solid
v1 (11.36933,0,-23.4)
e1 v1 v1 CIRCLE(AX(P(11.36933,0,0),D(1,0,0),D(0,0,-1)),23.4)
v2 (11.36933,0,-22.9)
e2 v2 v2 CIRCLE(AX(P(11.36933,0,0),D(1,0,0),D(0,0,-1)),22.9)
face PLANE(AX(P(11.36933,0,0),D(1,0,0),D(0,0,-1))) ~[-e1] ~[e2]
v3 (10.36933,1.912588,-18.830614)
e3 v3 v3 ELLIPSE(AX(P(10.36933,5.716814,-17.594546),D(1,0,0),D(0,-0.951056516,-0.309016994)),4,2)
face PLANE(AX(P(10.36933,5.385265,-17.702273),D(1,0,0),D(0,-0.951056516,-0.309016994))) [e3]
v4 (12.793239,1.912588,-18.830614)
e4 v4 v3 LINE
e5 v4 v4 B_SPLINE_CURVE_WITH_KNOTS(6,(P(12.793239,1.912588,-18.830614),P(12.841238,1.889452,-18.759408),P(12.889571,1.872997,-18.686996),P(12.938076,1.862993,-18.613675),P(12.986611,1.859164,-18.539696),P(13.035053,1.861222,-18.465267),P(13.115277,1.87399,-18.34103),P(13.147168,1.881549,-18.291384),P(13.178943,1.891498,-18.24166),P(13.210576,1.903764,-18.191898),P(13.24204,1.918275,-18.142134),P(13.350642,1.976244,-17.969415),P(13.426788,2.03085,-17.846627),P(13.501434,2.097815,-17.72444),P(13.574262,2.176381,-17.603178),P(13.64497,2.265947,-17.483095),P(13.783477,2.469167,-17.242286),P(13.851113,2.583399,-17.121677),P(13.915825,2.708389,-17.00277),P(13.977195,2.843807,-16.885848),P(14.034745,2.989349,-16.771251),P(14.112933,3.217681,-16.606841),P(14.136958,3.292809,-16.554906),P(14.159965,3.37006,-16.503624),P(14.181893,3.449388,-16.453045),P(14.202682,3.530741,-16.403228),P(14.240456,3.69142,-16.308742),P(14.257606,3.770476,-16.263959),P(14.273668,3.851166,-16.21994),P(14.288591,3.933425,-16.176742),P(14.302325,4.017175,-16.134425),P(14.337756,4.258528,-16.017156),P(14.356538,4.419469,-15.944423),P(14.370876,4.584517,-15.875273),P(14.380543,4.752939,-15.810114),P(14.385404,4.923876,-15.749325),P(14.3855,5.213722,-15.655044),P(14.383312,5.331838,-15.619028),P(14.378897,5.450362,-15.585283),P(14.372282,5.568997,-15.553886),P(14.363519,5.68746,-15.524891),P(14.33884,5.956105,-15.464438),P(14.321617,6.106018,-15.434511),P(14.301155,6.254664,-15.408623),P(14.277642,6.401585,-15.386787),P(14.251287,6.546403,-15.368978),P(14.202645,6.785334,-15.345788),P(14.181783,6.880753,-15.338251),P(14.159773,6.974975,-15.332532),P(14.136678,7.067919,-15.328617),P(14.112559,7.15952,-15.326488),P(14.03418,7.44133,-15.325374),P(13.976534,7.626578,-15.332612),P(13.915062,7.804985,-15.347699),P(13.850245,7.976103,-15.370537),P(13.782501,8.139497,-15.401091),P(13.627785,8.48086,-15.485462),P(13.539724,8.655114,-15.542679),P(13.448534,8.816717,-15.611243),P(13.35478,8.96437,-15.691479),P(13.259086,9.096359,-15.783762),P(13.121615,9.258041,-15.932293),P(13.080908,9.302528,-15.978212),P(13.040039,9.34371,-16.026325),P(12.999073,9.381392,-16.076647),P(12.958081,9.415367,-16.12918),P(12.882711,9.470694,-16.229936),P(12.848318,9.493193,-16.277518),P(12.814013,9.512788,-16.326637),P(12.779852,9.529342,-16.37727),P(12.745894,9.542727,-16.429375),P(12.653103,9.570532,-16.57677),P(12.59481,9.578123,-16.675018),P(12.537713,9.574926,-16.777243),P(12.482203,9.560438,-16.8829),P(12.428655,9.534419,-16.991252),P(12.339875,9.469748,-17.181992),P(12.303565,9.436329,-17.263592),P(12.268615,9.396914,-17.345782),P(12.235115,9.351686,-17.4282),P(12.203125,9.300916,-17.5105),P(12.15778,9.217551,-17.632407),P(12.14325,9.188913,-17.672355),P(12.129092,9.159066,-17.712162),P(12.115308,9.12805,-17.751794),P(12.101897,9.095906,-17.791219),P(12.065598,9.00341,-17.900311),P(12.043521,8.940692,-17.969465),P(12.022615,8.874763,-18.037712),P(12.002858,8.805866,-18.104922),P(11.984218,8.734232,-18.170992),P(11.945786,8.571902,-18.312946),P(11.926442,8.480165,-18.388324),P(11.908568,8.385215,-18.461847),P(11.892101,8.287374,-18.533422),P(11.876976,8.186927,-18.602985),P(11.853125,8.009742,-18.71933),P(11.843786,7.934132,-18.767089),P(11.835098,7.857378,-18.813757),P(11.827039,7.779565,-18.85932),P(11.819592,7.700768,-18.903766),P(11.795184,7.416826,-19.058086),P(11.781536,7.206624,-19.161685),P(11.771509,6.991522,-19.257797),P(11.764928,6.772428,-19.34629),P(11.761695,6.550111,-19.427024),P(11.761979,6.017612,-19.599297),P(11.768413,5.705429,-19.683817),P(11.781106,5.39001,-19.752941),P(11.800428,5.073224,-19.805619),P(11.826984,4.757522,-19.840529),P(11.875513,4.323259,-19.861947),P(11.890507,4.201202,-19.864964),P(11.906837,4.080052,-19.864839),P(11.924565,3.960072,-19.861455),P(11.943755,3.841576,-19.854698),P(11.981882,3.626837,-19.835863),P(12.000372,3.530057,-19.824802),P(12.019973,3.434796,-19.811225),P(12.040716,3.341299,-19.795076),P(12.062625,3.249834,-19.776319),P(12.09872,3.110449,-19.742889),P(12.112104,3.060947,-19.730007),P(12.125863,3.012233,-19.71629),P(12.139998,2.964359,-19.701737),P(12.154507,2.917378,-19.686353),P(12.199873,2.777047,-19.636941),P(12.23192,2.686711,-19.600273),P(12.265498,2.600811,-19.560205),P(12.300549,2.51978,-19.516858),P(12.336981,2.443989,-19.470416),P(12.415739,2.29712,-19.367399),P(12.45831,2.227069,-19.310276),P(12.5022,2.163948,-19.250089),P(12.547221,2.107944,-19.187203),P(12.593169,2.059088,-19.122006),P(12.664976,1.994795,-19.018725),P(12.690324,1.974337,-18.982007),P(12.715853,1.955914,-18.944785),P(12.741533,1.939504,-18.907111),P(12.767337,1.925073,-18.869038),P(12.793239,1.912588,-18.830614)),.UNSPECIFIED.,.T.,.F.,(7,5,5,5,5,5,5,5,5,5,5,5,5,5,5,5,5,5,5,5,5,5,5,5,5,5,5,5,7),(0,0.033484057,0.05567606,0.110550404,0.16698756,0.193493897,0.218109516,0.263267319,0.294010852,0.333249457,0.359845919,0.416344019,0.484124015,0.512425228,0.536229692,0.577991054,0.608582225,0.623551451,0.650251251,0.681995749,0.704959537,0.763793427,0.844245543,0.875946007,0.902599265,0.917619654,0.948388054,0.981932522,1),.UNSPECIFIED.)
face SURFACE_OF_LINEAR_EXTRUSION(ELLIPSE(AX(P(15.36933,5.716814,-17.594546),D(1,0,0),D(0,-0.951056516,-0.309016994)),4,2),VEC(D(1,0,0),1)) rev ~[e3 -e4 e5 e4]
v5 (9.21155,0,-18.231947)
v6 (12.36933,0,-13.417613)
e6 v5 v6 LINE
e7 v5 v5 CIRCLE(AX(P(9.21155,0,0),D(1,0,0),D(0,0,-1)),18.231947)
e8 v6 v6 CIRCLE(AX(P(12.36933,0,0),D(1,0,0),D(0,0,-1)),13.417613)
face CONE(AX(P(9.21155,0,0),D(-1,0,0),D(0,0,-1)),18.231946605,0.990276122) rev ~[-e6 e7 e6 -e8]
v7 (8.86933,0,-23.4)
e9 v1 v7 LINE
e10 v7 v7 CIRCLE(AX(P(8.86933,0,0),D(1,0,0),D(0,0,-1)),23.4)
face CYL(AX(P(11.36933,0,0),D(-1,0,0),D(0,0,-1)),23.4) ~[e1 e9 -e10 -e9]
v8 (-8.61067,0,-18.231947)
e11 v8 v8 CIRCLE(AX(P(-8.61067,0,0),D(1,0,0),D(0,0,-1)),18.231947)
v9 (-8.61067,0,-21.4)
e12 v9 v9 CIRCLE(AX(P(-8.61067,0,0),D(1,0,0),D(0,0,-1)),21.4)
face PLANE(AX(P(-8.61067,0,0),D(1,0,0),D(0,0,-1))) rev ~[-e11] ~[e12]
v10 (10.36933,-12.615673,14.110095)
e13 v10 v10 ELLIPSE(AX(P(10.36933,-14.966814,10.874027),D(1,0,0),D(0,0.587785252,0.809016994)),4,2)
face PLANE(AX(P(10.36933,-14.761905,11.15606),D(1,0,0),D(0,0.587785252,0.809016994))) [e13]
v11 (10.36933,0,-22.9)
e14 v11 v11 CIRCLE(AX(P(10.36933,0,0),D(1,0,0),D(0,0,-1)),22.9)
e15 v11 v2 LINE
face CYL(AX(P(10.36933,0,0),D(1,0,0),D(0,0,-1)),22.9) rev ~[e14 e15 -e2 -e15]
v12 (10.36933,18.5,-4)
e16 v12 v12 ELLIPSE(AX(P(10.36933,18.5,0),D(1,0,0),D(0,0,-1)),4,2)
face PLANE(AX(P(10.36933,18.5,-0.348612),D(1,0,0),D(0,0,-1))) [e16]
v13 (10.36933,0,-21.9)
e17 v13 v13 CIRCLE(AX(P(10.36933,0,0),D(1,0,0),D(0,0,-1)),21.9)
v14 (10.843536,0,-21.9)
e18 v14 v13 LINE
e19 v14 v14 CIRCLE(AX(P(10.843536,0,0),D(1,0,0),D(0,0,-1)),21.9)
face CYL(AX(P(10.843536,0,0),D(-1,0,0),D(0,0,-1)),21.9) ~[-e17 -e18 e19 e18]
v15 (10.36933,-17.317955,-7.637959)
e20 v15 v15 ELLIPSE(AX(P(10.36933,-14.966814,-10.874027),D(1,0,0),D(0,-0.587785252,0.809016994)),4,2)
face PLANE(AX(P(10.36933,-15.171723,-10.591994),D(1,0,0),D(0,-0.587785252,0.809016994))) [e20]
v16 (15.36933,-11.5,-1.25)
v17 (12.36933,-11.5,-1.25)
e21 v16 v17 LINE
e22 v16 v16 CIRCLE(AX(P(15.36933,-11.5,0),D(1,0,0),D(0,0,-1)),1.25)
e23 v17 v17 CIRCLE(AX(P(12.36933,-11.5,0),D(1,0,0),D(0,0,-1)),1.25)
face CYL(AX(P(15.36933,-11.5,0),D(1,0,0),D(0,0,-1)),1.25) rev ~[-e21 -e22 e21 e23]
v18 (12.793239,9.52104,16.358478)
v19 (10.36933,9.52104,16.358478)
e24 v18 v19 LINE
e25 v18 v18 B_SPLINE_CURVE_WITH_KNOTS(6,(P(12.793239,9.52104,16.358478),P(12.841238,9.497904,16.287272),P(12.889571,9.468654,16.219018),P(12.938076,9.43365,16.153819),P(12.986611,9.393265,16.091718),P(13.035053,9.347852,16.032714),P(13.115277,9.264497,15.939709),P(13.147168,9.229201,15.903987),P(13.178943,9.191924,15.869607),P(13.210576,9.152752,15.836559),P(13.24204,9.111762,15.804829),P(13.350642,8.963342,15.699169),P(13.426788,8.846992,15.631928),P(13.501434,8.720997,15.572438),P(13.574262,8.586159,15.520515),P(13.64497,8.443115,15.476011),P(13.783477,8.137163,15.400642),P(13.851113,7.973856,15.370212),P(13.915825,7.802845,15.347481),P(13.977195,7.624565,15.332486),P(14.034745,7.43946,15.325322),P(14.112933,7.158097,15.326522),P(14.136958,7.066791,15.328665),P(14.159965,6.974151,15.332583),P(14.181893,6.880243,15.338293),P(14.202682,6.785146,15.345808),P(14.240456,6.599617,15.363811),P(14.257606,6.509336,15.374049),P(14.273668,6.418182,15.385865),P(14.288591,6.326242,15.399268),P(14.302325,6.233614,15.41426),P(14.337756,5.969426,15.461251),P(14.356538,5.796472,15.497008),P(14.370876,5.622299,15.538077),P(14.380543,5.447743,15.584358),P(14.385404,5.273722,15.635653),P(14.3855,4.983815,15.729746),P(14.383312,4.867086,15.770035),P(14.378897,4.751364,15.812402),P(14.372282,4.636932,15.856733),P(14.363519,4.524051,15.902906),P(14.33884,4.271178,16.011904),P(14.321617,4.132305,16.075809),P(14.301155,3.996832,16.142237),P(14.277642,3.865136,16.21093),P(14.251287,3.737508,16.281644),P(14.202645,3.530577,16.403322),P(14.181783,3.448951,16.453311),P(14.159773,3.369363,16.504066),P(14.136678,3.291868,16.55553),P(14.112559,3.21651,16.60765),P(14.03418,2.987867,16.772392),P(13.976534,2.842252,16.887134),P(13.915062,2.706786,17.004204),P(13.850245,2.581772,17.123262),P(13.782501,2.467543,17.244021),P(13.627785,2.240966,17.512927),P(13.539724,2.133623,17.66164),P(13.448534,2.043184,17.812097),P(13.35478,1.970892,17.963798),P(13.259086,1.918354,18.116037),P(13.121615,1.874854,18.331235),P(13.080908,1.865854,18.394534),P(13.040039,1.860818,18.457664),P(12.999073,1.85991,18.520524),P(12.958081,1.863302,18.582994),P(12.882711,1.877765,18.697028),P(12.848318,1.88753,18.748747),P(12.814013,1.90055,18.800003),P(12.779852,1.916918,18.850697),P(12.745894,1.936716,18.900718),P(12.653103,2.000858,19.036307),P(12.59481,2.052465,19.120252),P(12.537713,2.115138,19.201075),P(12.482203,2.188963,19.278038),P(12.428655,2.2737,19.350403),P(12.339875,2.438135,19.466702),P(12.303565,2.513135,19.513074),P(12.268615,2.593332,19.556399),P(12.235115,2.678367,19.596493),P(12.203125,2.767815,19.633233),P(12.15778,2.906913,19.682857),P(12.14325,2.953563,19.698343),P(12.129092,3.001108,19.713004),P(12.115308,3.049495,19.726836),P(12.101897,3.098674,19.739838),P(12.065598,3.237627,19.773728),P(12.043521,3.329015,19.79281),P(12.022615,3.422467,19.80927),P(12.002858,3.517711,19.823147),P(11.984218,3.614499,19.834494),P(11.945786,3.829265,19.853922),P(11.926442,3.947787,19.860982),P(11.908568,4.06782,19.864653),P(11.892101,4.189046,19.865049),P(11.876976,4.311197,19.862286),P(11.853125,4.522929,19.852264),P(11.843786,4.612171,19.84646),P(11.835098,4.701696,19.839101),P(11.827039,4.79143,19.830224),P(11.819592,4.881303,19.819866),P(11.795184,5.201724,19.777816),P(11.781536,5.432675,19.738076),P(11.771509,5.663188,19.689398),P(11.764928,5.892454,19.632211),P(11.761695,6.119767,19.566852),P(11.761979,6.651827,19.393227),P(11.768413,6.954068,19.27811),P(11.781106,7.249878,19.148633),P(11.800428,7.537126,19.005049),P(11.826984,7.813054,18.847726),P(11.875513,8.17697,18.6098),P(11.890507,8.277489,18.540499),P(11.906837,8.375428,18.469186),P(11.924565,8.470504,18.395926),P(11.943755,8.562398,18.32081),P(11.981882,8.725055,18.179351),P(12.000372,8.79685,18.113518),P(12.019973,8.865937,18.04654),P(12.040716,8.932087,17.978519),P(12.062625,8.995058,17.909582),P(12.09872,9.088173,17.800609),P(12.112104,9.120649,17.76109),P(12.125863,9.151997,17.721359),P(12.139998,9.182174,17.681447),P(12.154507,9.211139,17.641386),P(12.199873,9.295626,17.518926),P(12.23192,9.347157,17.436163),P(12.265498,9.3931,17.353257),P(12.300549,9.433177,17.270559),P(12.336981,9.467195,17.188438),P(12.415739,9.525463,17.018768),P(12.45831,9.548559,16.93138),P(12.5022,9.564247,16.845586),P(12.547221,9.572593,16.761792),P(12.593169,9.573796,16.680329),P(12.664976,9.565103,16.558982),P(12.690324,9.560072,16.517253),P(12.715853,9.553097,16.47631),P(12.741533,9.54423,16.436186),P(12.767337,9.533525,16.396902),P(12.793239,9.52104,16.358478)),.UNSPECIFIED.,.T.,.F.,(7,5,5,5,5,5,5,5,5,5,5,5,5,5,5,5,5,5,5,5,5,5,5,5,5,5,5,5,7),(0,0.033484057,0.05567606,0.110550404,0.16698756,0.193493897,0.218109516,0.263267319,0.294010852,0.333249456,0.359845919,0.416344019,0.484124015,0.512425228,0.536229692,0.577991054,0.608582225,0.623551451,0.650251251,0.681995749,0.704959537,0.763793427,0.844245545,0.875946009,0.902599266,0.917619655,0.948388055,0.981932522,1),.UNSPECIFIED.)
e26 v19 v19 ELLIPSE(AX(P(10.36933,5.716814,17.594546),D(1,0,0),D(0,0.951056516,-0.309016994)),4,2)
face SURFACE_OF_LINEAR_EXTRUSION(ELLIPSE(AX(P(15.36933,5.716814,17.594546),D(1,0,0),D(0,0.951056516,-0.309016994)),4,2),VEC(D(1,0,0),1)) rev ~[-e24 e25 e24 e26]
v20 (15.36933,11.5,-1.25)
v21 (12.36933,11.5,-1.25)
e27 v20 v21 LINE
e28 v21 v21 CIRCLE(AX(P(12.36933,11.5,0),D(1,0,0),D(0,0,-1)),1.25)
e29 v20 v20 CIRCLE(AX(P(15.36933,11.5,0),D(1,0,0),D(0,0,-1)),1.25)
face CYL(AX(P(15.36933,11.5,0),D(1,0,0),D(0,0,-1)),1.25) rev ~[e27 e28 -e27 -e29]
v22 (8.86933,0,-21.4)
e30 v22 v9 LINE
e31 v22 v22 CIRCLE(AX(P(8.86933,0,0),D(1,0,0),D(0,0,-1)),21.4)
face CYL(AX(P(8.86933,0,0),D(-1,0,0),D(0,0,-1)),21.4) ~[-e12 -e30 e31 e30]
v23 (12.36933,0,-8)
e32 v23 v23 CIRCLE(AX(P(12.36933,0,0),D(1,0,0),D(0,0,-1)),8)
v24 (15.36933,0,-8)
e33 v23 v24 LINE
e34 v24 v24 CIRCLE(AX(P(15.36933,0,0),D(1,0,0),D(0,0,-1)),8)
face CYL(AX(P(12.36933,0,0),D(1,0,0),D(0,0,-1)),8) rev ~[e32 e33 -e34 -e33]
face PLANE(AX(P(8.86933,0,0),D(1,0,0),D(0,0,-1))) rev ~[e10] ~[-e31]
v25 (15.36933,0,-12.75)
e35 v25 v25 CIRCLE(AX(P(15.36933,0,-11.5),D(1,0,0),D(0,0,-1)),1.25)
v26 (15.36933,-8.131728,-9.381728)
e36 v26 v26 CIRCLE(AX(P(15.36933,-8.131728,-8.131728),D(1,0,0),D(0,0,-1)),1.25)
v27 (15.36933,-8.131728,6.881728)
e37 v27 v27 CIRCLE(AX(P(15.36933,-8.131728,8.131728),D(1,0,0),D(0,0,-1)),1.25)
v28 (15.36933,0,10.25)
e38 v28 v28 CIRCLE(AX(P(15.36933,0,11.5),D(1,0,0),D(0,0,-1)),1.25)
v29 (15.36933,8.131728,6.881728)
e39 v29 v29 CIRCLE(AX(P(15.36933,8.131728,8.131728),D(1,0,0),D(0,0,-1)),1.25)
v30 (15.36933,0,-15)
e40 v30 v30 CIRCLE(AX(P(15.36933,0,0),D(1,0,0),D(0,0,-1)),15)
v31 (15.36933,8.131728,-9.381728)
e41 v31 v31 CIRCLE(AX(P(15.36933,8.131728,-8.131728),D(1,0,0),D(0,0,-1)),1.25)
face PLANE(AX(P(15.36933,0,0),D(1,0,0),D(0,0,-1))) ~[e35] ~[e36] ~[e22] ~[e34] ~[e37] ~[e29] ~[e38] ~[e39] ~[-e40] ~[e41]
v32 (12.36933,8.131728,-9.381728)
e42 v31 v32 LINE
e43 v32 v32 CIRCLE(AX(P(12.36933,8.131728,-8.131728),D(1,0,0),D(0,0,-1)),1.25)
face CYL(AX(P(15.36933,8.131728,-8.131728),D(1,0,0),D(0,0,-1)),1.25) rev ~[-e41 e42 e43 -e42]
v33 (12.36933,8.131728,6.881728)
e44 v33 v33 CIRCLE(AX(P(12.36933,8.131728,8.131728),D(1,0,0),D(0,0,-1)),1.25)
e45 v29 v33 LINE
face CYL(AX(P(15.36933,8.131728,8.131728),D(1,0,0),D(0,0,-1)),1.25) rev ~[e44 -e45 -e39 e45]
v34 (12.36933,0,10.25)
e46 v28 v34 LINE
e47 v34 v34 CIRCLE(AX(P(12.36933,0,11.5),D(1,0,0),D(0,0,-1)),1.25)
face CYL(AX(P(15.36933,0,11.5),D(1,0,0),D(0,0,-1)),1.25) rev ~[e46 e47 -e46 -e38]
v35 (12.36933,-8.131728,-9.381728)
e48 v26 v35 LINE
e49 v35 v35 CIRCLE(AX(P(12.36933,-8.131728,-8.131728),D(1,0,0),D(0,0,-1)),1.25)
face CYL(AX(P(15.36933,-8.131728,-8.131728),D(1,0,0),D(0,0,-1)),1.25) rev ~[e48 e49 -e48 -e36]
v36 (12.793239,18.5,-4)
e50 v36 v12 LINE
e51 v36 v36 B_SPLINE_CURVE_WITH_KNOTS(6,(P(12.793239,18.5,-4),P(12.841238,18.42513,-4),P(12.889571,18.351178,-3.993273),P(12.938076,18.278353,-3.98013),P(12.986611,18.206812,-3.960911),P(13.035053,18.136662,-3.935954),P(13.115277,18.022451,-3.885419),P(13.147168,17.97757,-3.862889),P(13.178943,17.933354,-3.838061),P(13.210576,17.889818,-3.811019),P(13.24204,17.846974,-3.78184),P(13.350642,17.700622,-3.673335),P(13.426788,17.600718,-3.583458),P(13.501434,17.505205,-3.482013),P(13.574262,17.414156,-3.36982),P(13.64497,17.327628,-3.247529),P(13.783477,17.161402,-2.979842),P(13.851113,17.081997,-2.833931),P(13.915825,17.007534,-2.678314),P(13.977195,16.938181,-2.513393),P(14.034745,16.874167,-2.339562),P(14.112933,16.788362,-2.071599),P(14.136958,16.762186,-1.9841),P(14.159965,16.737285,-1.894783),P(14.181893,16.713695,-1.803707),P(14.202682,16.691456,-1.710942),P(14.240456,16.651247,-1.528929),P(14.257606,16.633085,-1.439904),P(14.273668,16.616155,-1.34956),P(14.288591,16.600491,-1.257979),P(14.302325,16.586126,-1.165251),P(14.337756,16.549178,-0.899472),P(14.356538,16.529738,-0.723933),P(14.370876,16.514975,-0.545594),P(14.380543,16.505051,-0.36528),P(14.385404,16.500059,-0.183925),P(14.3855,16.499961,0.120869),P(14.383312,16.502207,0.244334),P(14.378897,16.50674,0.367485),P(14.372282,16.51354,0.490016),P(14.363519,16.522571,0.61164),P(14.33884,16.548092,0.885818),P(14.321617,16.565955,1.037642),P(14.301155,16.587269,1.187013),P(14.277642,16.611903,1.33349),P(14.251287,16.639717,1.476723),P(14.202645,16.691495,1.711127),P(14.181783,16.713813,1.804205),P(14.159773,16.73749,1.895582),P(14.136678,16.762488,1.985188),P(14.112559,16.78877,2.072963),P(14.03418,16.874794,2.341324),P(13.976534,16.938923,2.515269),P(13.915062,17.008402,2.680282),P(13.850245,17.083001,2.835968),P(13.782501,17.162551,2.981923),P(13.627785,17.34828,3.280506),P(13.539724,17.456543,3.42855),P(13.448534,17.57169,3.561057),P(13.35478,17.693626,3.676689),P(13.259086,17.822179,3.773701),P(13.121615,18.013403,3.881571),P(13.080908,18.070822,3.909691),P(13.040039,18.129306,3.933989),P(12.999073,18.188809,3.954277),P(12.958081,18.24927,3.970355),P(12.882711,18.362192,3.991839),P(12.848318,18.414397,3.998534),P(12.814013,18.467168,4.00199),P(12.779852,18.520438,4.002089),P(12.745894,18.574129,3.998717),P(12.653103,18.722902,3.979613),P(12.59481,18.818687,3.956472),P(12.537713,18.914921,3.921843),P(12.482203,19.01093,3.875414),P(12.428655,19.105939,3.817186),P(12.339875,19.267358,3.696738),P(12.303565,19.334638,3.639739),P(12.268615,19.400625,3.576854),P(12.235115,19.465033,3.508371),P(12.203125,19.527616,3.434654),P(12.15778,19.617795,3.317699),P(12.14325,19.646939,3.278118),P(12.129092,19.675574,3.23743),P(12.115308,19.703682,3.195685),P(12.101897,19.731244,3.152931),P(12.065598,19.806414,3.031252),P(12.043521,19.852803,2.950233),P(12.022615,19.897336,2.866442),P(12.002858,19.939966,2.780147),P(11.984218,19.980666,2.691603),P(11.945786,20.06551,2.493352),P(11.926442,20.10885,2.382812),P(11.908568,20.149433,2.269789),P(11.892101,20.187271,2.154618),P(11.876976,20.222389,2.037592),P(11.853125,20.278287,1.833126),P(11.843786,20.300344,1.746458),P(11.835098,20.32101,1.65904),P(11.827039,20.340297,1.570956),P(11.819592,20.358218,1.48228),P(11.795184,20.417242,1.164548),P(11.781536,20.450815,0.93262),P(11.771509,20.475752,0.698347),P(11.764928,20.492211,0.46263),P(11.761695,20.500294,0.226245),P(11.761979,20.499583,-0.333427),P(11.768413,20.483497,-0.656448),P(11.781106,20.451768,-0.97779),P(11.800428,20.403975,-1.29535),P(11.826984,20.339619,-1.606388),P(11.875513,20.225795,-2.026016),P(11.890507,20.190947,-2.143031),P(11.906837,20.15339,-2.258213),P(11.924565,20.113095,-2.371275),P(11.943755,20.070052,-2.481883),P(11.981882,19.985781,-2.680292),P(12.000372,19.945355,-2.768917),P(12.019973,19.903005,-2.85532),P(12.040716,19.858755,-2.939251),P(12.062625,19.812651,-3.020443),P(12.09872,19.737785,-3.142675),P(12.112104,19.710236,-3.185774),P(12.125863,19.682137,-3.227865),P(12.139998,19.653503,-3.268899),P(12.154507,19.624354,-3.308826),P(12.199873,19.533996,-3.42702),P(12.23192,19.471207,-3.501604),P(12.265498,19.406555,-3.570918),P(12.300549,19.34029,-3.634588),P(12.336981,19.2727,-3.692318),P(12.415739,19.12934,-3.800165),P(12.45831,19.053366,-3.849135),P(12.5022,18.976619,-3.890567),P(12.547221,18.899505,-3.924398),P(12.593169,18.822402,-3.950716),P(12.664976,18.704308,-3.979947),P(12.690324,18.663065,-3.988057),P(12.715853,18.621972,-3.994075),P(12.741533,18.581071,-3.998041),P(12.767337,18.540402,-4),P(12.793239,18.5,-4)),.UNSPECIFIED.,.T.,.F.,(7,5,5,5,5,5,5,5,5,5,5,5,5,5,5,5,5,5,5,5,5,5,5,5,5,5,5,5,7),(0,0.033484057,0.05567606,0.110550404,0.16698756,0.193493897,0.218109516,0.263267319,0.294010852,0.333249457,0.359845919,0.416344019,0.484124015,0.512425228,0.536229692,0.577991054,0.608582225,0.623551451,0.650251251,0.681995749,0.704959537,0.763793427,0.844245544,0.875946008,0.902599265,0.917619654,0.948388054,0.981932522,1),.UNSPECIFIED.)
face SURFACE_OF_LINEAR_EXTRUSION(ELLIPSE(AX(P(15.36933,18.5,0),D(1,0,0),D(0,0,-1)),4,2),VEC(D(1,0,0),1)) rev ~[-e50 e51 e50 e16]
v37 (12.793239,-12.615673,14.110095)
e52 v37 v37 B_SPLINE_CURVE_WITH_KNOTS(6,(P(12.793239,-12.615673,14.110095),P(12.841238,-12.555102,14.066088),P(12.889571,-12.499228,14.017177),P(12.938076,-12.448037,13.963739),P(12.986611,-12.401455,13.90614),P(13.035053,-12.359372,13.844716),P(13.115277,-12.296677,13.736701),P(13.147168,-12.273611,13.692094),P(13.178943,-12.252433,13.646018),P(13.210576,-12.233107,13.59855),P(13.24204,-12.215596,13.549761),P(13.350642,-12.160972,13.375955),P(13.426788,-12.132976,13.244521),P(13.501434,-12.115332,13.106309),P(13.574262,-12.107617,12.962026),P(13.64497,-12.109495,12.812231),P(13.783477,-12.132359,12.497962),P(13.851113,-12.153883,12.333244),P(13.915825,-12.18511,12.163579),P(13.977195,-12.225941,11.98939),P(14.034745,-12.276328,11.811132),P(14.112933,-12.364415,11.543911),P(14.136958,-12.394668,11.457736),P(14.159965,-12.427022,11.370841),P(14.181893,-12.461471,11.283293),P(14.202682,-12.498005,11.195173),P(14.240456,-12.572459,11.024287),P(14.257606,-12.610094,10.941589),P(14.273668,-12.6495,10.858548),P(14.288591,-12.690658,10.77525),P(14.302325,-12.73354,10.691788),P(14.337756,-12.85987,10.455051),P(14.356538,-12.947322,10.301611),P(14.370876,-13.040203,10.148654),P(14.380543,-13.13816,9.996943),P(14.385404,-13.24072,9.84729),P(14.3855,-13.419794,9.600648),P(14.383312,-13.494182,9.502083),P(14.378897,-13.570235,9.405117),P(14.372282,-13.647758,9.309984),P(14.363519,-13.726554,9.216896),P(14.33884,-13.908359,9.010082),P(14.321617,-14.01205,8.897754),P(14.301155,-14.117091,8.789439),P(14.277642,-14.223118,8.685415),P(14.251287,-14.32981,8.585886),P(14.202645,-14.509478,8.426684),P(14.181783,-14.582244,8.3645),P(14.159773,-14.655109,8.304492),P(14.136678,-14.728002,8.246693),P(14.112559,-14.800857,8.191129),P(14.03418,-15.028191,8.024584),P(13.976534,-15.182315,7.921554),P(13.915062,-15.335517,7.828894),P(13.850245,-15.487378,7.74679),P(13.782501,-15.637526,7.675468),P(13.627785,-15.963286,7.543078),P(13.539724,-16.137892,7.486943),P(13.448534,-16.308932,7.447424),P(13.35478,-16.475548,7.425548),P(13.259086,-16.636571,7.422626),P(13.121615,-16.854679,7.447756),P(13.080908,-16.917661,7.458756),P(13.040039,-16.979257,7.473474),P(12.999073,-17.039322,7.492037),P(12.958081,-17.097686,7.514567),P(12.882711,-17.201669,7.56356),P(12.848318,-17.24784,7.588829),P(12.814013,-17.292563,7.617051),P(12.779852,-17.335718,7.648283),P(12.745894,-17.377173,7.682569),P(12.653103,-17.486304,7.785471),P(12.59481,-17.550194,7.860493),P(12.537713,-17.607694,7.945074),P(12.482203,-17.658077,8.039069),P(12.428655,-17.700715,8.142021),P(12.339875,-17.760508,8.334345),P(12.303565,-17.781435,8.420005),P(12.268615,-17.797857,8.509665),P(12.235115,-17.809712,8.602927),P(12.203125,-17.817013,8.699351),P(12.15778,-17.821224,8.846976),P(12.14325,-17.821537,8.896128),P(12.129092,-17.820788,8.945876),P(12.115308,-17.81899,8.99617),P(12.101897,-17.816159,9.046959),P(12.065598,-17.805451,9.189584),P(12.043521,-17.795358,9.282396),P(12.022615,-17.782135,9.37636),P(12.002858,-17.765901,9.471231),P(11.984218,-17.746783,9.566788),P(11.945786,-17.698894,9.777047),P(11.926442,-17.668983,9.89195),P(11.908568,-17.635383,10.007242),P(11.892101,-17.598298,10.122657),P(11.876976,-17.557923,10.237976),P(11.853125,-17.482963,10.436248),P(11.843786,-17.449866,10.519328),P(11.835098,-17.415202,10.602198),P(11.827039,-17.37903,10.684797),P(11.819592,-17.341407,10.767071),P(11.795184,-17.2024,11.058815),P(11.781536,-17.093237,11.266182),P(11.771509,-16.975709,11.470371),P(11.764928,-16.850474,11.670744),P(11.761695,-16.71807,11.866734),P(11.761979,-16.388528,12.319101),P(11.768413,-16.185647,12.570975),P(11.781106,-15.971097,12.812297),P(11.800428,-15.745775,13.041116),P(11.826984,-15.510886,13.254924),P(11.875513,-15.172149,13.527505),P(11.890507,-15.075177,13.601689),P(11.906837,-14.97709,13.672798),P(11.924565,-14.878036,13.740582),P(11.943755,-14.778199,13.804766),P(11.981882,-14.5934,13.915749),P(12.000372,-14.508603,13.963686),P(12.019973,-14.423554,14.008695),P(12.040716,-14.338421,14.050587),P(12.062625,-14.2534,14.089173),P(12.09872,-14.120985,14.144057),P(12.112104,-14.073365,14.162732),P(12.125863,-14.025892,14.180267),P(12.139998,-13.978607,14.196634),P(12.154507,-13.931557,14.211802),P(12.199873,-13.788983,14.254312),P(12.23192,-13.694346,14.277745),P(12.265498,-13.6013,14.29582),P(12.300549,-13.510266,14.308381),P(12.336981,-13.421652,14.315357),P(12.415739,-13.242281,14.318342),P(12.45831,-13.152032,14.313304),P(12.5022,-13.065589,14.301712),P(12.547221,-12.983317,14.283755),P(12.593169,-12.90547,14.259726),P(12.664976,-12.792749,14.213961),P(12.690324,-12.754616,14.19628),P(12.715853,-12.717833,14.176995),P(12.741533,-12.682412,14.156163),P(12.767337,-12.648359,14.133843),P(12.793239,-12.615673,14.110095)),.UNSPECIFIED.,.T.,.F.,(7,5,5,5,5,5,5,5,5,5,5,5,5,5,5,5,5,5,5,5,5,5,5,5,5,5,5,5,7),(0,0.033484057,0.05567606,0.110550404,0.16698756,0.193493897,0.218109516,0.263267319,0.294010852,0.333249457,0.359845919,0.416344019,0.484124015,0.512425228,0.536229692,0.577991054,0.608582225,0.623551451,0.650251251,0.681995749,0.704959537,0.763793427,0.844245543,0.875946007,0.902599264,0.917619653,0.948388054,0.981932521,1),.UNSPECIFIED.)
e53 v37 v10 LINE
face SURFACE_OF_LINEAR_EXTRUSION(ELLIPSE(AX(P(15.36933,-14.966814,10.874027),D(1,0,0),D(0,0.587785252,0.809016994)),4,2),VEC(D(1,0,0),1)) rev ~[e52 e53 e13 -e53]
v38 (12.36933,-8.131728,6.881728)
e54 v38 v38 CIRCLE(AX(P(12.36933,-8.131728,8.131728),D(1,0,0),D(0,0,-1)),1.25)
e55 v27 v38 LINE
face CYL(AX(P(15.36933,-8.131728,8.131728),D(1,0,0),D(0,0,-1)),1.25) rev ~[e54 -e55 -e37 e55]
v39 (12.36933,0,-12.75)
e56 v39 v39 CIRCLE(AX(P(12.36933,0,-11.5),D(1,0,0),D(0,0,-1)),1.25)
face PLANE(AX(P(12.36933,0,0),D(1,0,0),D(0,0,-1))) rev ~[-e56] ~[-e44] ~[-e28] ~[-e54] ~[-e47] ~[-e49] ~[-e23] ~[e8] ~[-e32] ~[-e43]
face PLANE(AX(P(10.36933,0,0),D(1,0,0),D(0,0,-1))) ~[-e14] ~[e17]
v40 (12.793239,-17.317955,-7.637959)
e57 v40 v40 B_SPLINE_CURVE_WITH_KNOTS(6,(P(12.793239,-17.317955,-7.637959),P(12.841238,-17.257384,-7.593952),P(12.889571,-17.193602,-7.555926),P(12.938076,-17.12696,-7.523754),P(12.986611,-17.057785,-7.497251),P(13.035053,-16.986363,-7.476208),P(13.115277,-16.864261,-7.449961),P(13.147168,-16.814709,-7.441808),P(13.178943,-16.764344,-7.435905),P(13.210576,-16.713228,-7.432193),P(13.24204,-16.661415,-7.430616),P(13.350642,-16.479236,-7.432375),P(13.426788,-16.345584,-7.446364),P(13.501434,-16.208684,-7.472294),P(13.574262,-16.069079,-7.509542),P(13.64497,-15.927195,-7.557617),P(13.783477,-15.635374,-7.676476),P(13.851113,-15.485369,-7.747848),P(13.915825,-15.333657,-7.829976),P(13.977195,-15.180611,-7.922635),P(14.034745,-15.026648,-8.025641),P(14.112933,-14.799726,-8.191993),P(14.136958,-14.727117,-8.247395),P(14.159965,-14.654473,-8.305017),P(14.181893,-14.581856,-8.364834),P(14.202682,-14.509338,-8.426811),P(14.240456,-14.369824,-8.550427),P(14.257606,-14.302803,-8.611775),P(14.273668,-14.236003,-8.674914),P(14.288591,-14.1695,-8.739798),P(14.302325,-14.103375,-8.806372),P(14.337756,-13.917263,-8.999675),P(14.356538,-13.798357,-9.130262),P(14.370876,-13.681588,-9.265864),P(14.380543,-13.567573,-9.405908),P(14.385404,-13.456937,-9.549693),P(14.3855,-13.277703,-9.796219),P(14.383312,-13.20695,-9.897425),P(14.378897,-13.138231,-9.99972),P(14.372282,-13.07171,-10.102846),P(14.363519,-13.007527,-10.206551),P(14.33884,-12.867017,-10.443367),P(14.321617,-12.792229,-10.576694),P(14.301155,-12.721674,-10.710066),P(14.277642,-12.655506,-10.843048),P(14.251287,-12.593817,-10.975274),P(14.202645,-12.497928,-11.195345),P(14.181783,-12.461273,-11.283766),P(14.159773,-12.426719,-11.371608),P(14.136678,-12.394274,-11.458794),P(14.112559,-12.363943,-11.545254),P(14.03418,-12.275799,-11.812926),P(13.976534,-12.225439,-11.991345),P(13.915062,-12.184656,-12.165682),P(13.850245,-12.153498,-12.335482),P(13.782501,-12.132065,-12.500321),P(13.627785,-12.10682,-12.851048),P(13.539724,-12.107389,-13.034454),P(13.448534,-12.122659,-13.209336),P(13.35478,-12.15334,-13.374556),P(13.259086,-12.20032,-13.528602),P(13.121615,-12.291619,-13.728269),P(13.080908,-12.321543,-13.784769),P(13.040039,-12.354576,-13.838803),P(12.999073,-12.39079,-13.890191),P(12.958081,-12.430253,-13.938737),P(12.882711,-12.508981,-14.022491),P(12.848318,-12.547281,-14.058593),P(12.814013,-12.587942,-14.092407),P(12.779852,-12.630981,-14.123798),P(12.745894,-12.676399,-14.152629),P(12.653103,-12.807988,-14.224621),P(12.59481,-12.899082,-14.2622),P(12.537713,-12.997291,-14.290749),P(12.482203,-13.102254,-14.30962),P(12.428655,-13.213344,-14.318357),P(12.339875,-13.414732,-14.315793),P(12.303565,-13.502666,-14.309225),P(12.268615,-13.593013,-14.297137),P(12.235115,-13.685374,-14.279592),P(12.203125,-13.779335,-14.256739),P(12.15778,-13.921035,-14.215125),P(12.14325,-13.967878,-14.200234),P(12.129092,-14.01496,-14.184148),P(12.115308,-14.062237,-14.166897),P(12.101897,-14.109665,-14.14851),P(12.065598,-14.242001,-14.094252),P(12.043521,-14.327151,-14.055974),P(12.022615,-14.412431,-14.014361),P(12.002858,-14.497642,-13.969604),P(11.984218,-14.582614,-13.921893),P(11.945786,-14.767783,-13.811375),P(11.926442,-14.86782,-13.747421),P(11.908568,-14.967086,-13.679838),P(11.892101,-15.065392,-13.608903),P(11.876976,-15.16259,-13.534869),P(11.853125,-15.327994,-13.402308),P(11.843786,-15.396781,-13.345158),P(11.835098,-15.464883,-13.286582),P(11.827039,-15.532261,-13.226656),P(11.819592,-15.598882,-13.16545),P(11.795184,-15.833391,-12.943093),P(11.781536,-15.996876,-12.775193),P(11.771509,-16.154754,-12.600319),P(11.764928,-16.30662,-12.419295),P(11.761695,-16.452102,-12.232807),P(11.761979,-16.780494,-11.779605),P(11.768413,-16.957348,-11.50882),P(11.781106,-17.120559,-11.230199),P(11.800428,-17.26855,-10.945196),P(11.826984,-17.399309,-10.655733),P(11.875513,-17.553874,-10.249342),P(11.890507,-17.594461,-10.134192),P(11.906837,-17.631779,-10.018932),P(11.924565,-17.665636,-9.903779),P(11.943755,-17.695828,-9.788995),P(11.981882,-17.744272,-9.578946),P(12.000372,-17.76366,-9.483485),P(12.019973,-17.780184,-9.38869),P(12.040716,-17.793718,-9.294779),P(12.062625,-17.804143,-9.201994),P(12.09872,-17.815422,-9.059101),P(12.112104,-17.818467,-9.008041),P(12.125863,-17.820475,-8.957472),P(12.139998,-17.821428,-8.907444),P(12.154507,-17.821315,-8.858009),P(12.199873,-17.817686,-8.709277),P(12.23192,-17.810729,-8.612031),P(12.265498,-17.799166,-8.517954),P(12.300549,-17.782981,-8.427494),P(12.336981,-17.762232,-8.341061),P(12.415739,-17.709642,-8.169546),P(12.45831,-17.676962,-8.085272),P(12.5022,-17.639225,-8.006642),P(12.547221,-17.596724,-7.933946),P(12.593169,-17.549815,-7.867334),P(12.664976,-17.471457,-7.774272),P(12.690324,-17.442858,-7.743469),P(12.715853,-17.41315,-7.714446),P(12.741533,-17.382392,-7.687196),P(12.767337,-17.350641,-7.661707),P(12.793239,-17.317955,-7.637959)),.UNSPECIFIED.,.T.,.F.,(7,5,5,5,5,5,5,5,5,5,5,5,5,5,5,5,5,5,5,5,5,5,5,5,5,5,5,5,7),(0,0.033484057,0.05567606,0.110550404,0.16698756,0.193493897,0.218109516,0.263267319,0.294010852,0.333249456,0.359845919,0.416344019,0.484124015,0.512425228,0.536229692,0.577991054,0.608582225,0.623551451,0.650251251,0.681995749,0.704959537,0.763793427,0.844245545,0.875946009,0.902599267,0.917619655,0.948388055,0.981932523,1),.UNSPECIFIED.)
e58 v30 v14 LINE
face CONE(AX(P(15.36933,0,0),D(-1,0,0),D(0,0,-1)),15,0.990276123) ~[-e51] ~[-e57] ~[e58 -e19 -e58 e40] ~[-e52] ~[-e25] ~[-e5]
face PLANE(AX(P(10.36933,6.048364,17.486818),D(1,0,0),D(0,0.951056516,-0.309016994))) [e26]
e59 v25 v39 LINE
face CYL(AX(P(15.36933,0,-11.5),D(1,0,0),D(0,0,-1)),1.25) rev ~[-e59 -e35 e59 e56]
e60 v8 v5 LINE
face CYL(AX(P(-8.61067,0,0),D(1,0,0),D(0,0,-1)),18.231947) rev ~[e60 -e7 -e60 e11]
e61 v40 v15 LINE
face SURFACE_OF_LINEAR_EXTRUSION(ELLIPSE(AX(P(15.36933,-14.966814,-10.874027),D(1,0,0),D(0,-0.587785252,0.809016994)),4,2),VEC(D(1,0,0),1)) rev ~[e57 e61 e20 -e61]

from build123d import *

# Parameters (mm, degrees)
SKETCH4_R          = 1.25
SKETCH4_RX         = 4
SKETCH4_RY         = 2
CUT_EXTRUDE1_DEPTH = 5


with BuildPart() as part:
    # Sketch3 → Revolve1 (revolve)
    with BuildSketch(Plane(origin=(0, 0, 0), x_dir=(1, 0, 0), z_dir=(0, 1, 0))):
        Polygon((10.36932978, 23.4), (8.86932978, 23.4), (8.86932978, 21.4), (-8.61067022, 21.4), (-8.61067022, 18.231946605), (9.211549898, 18.231946605), (12.36932978, 13.417613419), (12.36932978, 8), (15.36932978, 8), (15.36932978, 15), (10.843535586, 21.9), (10.36932978, 21.9), (10.36932978, 22.9), (11.36932978, 22.9), (11.36932978, 23.4), align=None)
    revolve(axis=Axis((-29.774212385, 0, 0), (1, 0, 0)))

    # Sketch4 → Cut-Extrude1 (cut)
    with BuildSketch(Plane(origin=(15.36932978, 0, 0), x_dir=(0, 0, -1), z_dir=(1, 0, 0))):
        with Locations((0, 11.5)):
            Circle(SKETCH4_R)
        with Locations((8.131727984, 8.131727984)):
            Circle(SKETCH4_R)
        with Locations((11.5, 0)):
            Circle(SKETCH4_R)
        with Locations((8.131727984, -8.131727984)):
            Circle(SKETCH4_R)
        with Locations((0, -11.5)):
            Circle(SKETCH4_R)
        with Locations((-8.131727984, -8.131727984)):
            Circle(SKETCH4_R)
        with Locations((-11.5, 0)):
            Circle(SKETCH4_R)
        with Locations((-8.131727984, 8.131727984)):
            Circle(SKETCH4_R)
        with Locations((0, 18.5)):
            Ellipse(SKETCH4_RX, SKETCH4_RY)
        with Locations(Location((17.594545551, 5.716814396), (0, 0, -72))):
            Ellipse(SKETCH4_RX, SKETCH4_RY)
        with Locations(Location((10.874027167, -14.966814396), (0, 0, -144))):
            Ellipse(SKETCH4_RX, SKETCH4_RY)
        with Locations(Location((-10.874027167, -14.966814396), (0, 0, 144))):
            Ellipse(SKETCH4_RX, SKETCH4_RY)
        with Locations(Location((-17.594545551, 5.716814396), (0, 0, 72))):
            Ellipse(SKETCH4_RX, SKETCH4_RY)
    extrude(amount=-CUT_EXTRUDE1_DEPTH, mode=Mode.SUBTRACT)


solid = part.part
